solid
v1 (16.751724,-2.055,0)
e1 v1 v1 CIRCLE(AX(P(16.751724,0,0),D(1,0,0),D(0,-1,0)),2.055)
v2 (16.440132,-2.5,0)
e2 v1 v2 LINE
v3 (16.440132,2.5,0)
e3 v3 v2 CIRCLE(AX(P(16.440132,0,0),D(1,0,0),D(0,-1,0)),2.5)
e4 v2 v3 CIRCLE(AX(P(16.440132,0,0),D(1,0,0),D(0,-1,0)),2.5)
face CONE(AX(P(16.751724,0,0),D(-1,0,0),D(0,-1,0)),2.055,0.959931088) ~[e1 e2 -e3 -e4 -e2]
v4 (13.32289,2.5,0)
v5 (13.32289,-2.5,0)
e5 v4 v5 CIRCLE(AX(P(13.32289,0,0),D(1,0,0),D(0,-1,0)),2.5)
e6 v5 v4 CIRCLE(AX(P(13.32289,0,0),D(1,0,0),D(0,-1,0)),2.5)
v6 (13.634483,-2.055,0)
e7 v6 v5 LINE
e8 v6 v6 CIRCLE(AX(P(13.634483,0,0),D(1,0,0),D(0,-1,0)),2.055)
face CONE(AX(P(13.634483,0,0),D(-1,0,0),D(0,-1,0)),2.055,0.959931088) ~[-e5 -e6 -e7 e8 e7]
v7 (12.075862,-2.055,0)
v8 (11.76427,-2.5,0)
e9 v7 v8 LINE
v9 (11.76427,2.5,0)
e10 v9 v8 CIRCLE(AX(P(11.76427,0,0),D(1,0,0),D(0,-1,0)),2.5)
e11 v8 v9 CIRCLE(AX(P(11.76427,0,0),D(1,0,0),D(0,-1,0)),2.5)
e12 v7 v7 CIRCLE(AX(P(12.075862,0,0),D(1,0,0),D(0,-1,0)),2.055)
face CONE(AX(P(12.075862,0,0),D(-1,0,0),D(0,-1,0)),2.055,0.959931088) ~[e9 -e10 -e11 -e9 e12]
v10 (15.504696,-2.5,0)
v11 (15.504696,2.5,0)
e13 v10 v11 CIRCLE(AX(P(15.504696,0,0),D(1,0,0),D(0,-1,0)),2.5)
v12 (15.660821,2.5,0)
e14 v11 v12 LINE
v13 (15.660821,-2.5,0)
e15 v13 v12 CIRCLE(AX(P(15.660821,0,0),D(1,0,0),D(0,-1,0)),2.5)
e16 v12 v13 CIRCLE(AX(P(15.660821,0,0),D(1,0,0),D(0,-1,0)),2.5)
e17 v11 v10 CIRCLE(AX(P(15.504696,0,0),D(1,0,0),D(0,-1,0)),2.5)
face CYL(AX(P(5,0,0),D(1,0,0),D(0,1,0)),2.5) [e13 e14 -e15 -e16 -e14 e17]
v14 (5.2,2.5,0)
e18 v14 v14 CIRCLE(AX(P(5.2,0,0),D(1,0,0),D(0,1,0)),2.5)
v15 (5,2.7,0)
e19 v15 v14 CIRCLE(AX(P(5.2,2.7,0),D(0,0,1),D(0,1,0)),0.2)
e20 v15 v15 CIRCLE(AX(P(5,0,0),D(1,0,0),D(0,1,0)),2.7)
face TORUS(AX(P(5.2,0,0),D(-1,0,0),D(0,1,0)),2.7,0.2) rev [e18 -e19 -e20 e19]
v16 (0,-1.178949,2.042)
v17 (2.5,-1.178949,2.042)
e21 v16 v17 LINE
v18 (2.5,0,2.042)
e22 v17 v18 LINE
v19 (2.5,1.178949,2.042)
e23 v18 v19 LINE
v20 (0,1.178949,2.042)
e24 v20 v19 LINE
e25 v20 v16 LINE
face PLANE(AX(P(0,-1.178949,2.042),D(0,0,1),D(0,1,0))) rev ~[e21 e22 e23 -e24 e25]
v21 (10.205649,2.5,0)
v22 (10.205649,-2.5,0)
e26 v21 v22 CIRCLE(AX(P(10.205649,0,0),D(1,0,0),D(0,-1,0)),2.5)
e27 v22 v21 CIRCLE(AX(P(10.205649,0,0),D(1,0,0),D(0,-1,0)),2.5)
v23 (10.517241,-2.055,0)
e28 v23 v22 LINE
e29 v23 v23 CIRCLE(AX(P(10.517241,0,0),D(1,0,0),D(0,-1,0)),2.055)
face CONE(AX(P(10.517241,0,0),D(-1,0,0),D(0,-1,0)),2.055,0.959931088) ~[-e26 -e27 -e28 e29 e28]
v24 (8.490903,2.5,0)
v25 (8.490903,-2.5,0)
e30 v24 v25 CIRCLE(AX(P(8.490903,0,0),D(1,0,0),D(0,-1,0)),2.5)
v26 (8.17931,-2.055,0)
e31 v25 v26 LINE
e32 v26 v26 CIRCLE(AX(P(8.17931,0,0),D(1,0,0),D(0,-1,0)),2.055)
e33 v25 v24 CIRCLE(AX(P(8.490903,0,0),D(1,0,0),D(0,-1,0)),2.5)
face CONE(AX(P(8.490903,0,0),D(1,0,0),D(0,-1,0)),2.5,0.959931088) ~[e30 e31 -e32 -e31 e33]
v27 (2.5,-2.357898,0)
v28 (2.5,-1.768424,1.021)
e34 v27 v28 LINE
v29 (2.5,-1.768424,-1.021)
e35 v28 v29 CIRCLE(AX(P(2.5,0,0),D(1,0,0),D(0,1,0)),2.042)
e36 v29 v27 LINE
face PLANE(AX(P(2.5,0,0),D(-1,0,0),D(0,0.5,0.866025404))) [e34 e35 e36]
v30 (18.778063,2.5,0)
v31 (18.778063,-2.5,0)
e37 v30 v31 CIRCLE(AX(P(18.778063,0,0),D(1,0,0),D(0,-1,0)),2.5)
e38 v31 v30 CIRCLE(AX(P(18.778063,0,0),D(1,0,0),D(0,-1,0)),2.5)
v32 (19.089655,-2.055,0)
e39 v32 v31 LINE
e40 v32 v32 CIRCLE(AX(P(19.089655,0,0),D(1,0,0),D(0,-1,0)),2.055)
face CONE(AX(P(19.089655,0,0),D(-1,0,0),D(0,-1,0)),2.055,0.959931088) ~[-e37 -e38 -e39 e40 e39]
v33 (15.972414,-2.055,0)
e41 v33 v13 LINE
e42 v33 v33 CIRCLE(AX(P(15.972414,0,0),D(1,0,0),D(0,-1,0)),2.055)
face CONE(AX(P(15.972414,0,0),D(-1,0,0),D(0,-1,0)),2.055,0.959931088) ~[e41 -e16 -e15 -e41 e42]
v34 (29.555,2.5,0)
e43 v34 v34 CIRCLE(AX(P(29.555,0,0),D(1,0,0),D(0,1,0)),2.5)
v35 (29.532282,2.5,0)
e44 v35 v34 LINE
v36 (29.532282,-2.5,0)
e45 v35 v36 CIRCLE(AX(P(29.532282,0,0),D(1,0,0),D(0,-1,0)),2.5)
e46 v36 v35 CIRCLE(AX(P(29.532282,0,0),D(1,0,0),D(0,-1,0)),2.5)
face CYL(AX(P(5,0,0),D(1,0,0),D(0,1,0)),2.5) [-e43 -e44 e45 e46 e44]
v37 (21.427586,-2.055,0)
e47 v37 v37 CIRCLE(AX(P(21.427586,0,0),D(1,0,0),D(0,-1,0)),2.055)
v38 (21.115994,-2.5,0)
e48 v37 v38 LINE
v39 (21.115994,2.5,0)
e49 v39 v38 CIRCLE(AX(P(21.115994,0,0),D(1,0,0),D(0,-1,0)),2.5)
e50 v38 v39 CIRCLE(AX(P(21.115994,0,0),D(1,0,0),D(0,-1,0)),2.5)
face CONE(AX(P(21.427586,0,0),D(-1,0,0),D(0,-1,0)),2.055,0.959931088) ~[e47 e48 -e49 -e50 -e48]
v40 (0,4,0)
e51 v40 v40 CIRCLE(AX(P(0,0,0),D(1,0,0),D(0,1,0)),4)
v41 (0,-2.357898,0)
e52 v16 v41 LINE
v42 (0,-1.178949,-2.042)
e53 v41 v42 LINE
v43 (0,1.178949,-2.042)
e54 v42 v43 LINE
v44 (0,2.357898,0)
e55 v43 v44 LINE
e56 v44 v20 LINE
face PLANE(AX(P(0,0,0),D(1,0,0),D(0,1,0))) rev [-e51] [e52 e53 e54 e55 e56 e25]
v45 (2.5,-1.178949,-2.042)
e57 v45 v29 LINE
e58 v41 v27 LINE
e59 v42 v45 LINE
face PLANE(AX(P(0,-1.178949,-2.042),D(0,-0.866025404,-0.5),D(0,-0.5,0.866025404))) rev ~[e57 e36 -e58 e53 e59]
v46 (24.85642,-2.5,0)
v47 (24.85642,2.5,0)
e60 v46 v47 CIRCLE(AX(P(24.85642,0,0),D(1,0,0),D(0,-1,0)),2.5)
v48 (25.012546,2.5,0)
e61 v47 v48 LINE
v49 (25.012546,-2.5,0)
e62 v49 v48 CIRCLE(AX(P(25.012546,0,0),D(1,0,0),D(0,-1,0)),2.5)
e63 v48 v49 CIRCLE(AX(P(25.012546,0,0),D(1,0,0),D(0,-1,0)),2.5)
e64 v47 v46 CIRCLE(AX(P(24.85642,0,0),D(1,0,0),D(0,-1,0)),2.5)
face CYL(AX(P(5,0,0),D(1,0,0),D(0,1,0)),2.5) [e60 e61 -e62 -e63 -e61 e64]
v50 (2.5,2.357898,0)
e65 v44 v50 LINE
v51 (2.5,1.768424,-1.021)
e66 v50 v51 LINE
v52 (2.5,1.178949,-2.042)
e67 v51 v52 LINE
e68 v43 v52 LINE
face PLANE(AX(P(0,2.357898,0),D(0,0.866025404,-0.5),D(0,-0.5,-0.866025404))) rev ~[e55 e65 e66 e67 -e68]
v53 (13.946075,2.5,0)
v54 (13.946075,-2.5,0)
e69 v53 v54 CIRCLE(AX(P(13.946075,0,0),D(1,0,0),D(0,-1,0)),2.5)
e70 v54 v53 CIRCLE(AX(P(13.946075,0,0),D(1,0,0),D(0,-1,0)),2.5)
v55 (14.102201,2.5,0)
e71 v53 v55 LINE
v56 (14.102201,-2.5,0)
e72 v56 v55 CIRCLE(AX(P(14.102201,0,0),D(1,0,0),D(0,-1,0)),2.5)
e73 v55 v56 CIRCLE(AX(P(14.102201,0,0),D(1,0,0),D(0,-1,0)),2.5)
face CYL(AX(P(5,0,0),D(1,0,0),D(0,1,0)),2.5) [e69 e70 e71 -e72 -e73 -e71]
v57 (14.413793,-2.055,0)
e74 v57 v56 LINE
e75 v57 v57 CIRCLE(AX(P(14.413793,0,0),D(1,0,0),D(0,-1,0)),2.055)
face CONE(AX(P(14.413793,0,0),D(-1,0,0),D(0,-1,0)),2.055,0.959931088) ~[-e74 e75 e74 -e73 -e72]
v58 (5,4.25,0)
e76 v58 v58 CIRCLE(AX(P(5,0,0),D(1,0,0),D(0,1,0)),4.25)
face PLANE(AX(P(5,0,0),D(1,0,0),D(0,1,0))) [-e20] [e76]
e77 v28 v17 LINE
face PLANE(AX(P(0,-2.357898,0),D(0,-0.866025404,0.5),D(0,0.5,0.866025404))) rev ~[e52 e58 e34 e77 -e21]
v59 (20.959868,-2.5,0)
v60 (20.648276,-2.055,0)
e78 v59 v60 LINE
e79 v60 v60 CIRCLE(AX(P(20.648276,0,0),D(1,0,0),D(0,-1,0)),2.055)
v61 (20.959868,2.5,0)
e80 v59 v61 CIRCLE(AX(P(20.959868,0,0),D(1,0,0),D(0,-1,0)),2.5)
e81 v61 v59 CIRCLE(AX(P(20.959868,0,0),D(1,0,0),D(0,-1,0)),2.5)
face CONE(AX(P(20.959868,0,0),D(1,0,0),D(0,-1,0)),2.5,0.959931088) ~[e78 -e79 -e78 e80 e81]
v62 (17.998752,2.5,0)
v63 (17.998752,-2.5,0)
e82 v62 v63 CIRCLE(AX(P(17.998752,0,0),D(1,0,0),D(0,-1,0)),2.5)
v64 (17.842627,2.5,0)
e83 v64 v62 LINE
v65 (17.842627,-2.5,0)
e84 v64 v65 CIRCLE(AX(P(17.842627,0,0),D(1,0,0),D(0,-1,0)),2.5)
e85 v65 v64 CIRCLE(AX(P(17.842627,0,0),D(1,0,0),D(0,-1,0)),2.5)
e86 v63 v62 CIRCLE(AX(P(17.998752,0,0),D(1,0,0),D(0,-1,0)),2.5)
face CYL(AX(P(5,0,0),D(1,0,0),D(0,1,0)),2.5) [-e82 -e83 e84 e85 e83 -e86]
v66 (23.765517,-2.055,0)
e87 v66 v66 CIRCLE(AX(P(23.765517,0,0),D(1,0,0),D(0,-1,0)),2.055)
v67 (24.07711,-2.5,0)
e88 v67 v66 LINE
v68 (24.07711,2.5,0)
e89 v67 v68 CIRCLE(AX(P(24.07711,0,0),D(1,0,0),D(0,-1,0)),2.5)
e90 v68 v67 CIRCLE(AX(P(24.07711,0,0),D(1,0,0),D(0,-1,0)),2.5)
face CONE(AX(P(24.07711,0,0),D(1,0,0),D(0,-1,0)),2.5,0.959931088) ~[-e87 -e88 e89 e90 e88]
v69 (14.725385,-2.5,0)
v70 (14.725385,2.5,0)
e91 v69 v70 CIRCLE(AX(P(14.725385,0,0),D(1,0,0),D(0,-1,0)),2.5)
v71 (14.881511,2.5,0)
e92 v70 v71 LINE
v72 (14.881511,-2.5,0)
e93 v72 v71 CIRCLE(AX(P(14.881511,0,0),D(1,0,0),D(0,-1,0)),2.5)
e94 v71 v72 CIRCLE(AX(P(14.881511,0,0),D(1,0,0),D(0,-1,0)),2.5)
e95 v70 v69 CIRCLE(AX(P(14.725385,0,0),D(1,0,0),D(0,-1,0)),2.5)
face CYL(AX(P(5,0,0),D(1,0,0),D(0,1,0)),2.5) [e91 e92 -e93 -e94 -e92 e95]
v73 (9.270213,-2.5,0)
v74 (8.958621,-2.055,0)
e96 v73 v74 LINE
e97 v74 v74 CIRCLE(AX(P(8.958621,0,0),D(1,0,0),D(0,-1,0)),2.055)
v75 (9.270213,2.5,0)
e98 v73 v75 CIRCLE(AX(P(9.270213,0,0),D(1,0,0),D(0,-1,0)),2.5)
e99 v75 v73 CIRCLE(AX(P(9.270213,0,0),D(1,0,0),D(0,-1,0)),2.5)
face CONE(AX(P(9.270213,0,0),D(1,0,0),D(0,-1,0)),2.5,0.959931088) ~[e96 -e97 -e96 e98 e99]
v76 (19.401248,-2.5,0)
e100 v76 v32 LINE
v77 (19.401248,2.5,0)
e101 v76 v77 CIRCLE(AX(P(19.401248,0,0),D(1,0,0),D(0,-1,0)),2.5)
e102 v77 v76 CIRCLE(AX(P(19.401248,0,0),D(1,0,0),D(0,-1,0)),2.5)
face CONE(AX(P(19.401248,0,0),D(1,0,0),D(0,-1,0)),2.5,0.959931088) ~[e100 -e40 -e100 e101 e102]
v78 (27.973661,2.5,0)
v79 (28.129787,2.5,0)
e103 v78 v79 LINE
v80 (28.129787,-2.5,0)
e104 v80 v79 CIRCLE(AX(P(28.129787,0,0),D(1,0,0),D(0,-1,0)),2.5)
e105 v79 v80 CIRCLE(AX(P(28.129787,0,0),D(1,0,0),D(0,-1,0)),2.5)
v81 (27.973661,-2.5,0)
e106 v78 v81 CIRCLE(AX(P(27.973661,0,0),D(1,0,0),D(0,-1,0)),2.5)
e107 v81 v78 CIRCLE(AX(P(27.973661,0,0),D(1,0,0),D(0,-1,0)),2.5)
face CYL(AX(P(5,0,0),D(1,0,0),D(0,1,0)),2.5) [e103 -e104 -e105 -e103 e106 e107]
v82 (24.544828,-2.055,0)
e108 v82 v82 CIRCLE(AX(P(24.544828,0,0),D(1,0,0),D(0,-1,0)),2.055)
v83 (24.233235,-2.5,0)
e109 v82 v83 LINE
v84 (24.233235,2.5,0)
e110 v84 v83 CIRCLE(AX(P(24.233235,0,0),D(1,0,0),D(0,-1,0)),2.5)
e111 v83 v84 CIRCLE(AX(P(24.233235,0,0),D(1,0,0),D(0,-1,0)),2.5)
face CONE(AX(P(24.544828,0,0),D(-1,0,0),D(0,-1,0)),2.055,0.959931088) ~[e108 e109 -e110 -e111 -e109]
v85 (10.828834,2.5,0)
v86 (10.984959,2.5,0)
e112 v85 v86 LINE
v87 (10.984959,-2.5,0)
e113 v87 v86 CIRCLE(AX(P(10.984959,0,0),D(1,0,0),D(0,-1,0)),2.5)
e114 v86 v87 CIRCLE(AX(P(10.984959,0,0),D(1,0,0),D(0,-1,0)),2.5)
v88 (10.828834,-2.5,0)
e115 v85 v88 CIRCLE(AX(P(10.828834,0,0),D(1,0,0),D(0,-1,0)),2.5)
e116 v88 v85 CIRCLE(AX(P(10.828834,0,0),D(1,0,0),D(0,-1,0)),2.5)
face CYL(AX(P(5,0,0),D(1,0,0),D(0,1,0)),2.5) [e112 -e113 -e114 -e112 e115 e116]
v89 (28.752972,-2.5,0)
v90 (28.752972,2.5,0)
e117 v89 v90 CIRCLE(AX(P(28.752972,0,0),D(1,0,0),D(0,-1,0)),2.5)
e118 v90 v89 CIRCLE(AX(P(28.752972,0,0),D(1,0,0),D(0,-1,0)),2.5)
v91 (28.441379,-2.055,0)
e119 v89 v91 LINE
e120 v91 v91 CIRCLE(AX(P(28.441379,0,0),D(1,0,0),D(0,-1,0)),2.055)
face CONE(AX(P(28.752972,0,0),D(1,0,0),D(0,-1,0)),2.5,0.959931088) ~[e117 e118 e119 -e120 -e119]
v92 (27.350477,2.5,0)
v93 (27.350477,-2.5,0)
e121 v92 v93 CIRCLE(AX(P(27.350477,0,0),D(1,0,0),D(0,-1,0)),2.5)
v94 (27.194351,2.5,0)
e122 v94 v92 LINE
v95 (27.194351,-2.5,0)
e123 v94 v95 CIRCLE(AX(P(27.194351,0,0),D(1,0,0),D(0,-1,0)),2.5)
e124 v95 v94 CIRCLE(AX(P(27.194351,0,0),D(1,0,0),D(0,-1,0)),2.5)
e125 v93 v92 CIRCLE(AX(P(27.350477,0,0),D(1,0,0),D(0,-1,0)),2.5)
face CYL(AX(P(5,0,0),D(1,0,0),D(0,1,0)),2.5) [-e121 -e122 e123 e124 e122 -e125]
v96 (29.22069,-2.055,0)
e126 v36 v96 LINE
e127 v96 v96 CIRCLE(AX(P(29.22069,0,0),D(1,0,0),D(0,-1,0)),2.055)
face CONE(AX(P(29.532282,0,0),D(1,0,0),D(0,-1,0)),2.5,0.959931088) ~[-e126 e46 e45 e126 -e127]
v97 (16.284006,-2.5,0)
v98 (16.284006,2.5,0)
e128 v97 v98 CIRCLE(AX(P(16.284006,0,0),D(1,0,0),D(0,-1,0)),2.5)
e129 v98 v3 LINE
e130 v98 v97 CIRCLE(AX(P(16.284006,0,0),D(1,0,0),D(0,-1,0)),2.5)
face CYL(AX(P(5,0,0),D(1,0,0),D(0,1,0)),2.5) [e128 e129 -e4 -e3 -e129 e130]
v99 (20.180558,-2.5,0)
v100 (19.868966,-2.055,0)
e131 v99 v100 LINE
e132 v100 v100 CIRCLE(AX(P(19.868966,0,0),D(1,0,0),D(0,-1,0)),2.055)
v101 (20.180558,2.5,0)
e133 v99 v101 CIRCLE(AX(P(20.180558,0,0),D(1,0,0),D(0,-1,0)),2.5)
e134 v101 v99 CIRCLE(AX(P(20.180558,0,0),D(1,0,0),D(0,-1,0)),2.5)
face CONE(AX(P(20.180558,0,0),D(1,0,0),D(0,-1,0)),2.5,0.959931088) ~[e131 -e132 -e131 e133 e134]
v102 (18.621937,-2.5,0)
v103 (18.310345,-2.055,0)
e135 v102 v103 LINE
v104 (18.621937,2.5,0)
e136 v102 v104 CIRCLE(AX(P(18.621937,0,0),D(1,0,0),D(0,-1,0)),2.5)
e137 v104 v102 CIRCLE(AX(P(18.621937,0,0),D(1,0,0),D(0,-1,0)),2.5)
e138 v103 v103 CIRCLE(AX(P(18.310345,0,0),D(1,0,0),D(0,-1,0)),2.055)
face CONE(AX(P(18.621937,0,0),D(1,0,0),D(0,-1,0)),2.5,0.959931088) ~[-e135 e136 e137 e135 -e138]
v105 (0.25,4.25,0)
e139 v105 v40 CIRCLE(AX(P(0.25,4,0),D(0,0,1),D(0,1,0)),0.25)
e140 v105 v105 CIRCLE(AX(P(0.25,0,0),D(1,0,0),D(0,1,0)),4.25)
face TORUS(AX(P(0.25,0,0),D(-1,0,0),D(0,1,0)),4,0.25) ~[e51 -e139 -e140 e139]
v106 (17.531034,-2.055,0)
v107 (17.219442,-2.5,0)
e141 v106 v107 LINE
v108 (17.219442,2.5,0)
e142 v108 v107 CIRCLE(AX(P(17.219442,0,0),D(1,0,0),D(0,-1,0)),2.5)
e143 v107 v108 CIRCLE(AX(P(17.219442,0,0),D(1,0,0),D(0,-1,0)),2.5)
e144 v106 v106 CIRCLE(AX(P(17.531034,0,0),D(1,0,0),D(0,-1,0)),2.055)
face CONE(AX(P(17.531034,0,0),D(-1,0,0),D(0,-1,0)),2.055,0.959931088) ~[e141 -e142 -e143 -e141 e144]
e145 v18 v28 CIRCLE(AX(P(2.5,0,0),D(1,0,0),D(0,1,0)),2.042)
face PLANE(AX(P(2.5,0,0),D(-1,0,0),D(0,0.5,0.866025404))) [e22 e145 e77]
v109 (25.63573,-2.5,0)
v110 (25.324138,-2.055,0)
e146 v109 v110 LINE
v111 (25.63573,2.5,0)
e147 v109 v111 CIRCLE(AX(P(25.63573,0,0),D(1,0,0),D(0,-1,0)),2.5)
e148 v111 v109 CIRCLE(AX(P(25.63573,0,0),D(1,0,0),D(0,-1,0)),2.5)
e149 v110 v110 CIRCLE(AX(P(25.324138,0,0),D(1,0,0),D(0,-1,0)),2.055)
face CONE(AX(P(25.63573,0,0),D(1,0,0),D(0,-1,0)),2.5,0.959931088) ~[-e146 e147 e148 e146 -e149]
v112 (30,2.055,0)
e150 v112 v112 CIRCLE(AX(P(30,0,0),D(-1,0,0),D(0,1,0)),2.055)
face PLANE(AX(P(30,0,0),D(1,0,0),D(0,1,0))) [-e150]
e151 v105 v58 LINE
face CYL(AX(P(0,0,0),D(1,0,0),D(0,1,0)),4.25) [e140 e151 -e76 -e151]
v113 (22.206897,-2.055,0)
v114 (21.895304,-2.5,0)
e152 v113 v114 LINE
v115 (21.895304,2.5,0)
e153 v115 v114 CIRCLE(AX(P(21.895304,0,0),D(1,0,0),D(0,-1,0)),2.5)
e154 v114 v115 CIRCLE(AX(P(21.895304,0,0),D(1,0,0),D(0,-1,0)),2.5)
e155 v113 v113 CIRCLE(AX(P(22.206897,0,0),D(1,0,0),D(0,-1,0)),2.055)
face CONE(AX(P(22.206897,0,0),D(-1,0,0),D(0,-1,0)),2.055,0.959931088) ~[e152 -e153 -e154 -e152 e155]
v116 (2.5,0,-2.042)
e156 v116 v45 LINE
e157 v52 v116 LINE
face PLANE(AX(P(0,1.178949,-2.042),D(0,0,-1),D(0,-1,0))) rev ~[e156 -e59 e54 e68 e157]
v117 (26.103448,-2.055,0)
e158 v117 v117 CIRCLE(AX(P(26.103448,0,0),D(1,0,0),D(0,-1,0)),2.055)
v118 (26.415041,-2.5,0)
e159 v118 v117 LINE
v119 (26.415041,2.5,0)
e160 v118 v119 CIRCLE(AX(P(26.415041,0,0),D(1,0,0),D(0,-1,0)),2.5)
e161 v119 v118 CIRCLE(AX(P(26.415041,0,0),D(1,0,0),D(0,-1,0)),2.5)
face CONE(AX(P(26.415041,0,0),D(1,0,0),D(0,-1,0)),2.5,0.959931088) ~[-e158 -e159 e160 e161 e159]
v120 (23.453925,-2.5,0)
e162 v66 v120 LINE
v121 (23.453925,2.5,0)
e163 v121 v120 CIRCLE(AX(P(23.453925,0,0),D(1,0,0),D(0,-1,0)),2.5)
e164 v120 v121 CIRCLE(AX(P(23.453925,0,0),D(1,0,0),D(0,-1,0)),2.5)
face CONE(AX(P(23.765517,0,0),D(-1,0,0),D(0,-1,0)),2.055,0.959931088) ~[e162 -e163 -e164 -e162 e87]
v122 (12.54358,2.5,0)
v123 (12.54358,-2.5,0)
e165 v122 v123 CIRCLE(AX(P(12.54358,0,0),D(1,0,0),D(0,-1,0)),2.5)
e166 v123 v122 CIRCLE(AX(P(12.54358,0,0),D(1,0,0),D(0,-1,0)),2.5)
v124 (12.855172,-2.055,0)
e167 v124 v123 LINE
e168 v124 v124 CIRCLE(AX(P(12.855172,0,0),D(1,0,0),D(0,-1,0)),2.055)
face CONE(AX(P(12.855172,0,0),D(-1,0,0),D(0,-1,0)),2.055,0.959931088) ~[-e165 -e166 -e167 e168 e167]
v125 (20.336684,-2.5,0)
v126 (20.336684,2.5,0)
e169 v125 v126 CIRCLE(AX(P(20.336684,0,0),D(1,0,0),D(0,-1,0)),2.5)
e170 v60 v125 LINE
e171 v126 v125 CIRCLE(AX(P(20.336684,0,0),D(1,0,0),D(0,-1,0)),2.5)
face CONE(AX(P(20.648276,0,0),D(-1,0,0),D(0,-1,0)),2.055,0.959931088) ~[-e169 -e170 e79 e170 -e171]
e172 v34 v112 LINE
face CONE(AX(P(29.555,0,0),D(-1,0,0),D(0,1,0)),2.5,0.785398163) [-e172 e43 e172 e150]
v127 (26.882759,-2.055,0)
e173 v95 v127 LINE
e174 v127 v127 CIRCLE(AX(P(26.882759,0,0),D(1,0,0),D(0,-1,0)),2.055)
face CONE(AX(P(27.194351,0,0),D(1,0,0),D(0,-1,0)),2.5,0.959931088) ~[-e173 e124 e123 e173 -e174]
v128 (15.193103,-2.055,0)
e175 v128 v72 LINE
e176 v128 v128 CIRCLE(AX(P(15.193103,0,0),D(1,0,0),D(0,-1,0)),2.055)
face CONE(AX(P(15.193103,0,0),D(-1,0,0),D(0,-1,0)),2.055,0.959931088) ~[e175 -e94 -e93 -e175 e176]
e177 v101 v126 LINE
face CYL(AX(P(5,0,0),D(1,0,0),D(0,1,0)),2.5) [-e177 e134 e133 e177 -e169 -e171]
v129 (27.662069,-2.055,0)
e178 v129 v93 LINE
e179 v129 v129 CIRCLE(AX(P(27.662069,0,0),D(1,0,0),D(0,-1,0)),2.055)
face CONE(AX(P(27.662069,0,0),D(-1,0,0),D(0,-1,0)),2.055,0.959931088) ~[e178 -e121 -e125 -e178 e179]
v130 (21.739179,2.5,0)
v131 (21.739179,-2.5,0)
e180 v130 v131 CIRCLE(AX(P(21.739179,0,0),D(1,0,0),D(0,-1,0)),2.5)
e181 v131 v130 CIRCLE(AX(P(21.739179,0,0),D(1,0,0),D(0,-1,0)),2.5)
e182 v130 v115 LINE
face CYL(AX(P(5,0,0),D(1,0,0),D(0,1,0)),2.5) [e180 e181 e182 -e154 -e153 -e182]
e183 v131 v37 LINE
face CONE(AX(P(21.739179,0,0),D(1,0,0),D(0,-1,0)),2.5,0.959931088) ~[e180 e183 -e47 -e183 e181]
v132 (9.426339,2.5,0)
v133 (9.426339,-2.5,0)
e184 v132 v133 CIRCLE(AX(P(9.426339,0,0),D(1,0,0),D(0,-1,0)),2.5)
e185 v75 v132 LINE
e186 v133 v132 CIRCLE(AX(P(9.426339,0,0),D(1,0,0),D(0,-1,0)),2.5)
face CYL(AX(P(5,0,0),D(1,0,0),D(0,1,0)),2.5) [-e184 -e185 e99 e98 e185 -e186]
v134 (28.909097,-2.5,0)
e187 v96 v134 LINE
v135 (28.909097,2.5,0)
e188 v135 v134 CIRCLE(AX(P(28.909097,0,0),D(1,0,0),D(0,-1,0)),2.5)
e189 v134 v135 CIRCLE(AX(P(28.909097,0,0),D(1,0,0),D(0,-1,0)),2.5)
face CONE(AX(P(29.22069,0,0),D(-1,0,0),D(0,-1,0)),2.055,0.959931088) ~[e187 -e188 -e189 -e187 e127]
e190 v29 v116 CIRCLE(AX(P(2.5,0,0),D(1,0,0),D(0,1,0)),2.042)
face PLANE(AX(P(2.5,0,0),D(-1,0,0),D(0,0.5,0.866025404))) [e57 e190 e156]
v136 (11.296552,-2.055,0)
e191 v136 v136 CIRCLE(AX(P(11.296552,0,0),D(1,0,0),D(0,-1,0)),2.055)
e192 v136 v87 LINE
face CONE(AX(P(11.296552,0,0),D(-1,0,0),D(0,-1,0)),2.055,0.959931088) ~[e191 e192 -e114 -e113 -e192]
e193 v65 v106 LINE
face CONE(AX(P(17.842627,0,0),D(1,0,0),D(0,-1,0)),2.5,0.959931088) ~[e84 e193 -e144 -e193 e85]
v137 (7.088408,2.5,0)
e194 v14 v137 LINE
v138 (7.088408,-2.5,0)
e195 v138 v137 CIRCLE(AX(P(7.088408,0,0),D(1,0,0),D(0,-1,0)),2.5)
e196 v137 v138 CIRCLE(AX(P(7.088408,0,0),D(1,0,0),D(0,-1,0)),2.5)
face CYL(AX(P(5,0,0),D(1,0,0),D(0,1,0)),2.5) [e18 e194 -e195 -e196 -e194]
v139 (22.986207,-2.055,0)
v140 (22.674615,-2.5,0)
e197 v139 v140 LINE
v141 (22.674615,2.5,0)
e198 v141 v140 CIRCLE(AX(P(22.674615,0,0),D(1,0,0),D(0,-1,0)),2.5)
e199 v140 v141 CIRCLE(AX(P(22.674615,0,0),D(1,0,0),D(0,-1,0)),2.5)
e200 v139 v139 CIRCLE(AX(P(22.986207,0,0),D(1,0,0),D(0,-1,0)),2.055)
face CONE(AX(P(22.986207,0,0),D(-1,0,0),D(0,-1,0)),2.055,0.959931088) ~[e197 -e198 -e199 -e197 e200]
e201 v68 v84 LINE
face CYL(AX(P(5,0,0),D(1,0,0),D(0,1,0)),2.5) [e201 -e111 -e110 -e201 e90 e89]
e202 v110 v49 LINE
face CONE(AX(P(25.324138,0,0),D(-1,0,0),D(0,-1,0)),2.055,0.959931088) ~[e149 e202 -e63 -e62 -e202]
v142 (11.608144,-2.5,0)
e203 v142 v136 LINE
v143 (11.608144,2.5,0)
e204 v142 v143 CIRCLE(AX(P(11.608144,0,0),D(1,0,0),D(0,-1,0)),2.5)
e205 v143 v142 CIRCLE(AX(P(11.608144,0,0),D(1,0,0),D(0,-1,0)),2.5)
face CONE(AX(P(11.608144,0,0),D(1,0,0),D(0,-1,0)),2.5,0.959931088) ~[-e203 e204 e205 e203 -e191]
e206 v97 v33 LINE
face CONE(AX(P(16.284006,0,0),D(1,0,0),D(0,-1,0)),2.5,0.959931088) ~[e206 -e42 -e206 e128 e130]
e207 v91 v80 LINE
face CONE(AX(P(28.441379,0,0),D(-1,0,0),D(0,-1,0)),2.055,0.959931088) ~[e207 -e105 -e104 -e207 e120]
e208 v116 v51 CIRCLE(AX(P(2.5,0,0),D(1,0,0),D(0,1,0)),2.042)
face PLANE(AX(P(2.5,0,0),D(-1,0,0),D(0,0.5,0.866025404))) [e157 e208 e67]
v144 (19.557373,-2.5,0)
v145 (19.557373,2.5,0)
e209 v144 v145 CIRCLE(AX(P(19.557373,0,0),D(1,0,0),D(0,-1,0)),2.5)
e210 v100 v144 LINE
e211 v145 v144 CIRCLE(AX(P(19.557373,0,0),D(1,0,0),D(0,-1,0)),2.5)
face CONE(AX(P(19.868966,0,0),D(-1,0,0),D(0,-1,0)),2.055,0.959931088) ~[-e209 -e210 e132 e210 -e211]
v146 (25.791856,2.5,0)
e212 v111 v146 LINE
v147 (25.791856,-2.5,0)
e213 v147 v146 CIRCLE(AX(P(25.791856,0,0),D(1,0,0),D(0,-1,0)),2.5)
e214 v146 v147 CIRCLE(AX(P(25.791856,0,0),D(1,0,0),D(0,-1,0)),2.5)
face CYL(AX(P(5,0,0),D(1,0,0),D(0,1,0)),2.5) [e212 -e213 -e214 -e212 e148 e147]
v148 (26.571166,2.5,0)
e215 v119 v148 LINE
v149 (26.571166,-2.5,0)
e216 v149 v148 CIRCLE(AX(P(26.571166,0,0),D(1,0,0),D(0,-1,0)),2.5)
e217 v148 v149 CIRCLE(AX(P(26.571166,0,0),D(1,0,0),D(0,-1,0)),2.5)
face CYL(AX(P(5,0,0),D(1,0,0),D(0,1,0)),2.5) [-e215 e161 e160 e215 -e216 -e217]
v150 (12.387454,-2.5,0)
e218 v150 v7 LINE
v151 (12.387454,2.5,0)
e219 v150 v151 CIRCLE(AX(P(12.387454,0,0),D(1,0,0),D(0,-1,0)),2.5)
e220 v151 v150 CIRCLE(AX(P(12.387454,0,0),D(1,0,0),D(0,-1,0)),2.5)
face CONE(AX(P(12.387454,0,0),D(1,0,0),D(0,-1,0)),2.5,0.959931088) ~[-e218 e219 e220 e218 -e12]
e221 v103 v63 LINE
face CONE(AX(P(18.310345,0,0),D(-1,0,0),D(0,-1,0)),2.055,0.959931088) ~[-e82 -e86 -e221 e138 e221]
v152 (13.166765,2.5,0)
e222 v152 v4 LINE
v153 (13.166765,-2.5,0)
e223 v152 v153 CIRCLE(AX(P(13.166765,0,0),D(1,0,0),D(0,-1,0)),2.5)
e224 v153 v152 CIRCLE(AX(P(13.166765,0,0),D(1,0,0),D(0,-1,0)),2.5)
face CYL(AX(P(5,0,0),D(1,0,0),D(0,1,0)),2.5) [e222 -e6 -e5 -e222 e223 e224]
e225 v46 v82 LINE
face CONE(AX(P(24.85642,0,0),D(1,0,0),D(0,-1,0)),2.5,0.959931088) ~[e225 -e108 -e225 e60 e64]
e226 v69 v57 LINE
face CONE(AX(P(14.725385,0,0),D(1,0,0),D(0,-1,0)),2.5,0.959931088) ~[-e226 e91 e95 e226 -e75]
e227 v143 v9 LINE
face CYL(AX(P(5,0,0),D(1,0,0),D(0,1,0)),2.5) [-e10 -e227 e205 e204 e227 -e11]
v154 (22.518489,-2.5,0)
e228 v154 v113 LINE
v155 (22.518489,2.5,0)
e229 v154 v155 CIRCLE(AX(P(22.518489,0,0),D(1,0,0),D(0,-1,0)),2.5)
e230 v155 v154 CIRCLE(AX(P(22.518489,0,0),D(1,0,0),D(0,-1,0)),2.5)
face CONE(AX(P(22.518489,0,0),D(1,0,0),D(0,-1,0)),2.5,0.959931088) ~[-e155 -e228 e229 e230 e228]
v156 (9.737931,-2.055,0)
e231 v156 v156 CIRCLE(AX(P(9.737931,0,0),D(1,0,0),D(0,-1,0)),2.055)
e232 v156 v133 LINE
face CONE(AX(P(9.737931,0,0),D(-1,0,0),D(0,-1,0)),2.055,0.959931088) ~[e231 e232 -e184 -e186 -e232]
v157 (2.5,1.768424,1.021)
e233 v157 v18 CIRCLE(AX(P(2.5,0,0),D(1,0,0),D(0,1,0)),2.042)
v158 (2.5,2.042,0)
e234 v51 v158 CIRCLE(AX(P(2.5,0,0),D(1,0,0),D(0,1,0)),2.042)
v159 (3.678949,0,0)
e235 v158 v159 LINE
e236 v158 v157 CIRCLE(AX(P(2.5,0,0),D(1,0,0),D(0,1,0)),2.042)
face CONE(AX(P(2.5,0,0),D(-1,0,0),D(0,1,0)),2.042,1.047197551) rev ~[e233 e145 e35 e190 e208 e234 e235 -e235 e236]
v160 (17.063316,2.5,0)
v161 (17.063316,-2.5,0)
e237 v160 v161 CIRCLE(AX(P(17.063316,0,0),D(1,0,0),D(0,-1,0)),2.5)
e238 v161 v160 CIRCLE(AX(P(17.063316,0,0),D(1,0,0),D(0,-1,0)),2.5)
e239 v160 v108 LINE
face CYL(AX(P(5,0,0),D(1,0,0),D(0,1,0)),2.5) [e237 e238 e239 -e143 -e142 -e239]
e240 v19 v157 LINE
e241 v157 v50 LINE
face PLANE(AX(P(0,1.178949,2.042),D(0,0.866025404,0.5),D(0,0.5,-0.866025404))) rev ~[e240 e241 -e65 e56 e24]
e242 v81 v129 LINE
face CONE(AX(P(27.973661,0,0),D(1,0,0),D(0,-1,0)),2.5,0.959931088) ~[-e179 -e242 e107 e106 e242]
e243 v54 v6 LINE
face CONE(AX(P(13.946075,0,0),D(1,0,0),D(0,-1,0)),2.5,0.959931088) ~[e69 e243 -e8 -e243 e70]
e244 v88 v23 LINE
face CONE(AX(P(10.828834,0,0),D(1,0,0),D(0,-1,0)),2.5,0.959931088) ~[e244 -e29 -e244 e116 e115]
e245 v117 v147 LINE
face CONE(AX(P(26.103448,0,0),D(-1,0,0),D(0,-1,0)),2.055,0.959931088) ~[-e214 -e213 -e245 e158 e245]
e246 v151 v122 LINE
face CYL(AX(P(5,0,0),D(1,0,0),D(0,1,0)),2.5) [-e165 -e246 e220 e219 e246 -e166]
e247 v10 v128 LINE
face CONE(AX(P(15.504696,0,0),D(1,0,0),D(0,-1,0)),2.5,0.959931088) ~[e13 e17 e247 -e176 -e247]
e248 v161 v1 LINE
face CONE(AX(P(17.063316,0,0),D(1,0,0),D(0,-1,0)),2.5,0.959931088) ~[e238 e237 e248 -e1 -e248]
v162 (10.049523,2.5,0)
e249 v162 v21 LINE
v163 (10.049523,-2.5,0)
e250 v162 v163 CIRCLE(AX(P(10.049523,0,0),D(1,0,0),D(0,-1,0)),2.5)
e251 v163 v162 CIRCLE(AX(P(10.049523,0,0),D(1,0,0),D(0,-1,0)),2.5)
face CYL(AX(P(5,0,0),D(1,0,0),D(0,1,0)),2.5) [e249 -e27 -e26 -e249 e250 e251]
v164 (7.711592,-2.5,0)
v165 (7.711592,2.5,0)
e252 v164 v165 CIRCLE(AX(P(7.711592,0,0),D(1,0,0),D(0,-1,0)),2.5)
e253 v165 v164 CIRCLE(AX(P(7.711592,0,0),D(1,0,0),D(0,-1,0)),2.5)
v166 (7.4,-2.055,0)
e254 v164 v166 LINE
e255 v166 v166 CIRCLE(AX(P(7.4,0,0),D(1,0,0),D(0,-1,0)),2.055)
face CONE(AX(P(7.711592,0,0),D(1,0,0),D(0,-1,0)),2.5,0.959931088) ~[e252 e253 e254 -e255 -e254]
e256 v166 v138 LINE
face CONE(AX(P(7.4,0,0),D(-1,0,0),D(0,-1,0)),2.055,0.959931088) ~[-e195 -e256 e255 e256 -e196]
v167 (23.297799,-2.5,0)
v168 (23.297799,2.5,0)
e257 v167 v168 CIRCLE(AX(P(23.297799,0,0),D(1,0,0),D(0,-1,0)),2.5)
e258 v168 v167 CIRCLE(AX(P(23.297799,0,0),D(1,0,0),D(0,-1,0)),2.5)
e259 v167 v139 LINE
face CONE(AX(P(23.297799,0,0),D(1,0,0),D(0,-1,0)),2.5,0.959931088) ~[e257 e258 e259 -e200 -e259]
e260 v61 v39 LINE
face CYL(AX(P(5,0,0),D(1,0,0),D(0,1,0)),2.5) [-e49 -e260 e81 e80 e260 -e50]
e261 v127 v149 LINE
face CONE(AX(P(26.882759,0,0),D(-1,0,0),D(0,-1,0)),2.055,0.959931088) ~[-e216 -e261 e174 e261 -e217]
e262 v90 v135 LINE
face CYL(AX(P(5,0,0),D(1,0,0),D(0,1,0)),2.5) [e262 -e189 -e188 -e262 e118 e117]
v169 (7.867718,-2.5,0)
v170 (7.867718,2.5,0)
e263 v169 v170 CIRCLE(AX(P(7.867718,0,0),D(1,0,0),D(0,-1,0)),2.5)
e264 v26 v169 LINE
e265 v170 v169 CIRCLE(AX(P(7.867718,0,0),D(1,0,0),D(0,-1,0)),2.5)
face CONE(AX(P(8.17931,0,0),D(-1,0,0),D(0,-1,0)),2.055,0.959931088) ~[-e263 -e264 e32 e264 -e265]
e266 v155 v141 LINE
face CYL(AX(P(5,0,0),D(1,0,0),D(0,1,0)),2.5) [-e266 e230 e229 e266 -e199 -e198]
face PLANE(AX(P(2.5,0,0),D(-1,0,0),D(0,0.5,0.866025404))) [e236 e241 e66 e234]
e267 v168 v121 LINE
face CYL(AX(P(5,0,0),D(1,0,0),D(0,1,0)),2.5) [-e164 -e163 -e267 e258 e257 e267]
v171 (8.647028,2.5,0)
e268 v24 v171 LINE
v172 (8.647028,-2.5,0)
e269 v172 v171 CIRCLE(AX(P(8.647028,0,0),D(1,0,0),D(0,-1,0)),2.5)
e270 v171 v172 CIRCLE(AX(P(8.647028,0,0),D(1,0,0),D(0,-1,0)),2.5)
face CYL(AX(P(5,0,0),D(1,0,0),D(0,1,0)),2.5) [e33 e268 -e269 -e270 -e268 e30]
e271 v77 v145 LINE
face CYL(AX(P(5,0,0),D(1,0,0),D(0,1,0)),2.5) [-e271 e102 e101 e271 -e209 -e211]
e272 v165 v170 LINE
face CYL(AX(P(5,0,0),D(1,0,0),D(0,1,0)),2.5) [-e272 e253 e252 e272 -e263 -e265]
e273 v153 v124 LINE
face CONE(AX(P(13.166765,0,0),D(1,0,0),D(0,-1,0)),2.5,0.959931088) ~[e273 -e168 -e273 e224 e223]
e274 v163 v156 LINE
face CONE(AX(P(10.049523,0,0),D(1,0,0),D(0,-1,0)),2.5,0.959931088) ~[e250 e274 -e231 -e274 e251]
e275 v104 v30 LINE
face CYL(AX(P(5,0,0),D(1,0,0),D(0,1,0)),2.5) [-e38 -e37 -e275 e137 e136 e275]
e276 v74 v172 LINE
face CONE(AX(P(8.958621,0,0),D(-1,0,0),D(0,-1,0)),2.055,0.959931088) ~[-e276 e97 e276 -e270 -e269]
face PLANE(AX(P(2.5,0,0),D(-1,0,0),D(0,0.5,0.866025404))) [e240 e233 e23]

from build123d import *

# Parameters (mm, degrees)
FILLET1_R       = 0.2
FILLET2_R       = 0.25
HEX_2_DEPTH     = 2.5
THDSCHPAT_COUNT = 30
THDSCHPAT_PITCH = 0.779310345


with BuildPart() as part:
    # BodySke → Base-Revolve (revolve)
    with BuildSketch(Plane.XY):
        Polygon((0, 0), (0, 4.25), (5, 4.25), (5, 2.5), (29.555, 2.5), (30, 2.055), (30, 0), align=None)
    revolve(axis=Axis((-31.75, 0, 0), (1, 0, 0)))

    # Fillet1
    fillet1_edges = [part.edges().sort_by_distance(p)[0] for p in [
        (5, -2.5, 0),
    ]]
    fillet(fillet1_edges, radius=FILLET1_R)

    # Fillet2
    fillet2_edges = [part.edges().sort_by_distance(p)[0] for p in [
        (0, -4.25, 0),
    ]]
    fillet(fillet2_edges, radius=FILLET2_R)

    # Sketch2 → Hex-PreBroach (revolve, cut)
    with BuildSketch(Plane.XY):
        Polygon((0, 2.042), (2.5, 2.042), (3.67894925, 0), (0, 0), align=None)
    revolve(axis=Axis((0, 0, 0), (1, 0, 0)), mode=Mode.SUBTRACT)

    # Sketch3 → Hex 2 (cut)
    with BuildSketch(Plane(origin=(0, 0, 0), x_dir=(0, 0.5, 0.866025404), z_dir=(-1, 0, 0))):
        Polygon((1.17894925, 2.042), (-1.17894925, 2.042), (-2.357898499, 0), (-1.17894925, -2.042), (1.17894925, -2.042), (2.357898499, 0), align=None)
    extrude(amount=-HEX_2_DEPTH, mode=Mode.SUBTRACT)

    # ThdSchSke → ThreadSchematic (revolve, cut)
    with BuildSketch(Plane.XY):
        Polygon((7.4, -2.055), (7.088407645, -2.5), (7.088407645, -3.125), (7.711592355, -3.125), (7.711592355, -2.5), align=None)
    threadschematic = revolve(axis=Axis((-3.175, 0, 0), (1, 0, 0)), mode=Mode.SUBTRACT)

    # ThdSchPat: ThreadSchematic ×30
    with Locations(*[(i * THDSCHPAT_PITCH, 0, 0) for i in range(1, THDSCHPAT_COUNT)]):
        add(threadschematic, mode=Mode.SUBTRACT)


solid = part.part
